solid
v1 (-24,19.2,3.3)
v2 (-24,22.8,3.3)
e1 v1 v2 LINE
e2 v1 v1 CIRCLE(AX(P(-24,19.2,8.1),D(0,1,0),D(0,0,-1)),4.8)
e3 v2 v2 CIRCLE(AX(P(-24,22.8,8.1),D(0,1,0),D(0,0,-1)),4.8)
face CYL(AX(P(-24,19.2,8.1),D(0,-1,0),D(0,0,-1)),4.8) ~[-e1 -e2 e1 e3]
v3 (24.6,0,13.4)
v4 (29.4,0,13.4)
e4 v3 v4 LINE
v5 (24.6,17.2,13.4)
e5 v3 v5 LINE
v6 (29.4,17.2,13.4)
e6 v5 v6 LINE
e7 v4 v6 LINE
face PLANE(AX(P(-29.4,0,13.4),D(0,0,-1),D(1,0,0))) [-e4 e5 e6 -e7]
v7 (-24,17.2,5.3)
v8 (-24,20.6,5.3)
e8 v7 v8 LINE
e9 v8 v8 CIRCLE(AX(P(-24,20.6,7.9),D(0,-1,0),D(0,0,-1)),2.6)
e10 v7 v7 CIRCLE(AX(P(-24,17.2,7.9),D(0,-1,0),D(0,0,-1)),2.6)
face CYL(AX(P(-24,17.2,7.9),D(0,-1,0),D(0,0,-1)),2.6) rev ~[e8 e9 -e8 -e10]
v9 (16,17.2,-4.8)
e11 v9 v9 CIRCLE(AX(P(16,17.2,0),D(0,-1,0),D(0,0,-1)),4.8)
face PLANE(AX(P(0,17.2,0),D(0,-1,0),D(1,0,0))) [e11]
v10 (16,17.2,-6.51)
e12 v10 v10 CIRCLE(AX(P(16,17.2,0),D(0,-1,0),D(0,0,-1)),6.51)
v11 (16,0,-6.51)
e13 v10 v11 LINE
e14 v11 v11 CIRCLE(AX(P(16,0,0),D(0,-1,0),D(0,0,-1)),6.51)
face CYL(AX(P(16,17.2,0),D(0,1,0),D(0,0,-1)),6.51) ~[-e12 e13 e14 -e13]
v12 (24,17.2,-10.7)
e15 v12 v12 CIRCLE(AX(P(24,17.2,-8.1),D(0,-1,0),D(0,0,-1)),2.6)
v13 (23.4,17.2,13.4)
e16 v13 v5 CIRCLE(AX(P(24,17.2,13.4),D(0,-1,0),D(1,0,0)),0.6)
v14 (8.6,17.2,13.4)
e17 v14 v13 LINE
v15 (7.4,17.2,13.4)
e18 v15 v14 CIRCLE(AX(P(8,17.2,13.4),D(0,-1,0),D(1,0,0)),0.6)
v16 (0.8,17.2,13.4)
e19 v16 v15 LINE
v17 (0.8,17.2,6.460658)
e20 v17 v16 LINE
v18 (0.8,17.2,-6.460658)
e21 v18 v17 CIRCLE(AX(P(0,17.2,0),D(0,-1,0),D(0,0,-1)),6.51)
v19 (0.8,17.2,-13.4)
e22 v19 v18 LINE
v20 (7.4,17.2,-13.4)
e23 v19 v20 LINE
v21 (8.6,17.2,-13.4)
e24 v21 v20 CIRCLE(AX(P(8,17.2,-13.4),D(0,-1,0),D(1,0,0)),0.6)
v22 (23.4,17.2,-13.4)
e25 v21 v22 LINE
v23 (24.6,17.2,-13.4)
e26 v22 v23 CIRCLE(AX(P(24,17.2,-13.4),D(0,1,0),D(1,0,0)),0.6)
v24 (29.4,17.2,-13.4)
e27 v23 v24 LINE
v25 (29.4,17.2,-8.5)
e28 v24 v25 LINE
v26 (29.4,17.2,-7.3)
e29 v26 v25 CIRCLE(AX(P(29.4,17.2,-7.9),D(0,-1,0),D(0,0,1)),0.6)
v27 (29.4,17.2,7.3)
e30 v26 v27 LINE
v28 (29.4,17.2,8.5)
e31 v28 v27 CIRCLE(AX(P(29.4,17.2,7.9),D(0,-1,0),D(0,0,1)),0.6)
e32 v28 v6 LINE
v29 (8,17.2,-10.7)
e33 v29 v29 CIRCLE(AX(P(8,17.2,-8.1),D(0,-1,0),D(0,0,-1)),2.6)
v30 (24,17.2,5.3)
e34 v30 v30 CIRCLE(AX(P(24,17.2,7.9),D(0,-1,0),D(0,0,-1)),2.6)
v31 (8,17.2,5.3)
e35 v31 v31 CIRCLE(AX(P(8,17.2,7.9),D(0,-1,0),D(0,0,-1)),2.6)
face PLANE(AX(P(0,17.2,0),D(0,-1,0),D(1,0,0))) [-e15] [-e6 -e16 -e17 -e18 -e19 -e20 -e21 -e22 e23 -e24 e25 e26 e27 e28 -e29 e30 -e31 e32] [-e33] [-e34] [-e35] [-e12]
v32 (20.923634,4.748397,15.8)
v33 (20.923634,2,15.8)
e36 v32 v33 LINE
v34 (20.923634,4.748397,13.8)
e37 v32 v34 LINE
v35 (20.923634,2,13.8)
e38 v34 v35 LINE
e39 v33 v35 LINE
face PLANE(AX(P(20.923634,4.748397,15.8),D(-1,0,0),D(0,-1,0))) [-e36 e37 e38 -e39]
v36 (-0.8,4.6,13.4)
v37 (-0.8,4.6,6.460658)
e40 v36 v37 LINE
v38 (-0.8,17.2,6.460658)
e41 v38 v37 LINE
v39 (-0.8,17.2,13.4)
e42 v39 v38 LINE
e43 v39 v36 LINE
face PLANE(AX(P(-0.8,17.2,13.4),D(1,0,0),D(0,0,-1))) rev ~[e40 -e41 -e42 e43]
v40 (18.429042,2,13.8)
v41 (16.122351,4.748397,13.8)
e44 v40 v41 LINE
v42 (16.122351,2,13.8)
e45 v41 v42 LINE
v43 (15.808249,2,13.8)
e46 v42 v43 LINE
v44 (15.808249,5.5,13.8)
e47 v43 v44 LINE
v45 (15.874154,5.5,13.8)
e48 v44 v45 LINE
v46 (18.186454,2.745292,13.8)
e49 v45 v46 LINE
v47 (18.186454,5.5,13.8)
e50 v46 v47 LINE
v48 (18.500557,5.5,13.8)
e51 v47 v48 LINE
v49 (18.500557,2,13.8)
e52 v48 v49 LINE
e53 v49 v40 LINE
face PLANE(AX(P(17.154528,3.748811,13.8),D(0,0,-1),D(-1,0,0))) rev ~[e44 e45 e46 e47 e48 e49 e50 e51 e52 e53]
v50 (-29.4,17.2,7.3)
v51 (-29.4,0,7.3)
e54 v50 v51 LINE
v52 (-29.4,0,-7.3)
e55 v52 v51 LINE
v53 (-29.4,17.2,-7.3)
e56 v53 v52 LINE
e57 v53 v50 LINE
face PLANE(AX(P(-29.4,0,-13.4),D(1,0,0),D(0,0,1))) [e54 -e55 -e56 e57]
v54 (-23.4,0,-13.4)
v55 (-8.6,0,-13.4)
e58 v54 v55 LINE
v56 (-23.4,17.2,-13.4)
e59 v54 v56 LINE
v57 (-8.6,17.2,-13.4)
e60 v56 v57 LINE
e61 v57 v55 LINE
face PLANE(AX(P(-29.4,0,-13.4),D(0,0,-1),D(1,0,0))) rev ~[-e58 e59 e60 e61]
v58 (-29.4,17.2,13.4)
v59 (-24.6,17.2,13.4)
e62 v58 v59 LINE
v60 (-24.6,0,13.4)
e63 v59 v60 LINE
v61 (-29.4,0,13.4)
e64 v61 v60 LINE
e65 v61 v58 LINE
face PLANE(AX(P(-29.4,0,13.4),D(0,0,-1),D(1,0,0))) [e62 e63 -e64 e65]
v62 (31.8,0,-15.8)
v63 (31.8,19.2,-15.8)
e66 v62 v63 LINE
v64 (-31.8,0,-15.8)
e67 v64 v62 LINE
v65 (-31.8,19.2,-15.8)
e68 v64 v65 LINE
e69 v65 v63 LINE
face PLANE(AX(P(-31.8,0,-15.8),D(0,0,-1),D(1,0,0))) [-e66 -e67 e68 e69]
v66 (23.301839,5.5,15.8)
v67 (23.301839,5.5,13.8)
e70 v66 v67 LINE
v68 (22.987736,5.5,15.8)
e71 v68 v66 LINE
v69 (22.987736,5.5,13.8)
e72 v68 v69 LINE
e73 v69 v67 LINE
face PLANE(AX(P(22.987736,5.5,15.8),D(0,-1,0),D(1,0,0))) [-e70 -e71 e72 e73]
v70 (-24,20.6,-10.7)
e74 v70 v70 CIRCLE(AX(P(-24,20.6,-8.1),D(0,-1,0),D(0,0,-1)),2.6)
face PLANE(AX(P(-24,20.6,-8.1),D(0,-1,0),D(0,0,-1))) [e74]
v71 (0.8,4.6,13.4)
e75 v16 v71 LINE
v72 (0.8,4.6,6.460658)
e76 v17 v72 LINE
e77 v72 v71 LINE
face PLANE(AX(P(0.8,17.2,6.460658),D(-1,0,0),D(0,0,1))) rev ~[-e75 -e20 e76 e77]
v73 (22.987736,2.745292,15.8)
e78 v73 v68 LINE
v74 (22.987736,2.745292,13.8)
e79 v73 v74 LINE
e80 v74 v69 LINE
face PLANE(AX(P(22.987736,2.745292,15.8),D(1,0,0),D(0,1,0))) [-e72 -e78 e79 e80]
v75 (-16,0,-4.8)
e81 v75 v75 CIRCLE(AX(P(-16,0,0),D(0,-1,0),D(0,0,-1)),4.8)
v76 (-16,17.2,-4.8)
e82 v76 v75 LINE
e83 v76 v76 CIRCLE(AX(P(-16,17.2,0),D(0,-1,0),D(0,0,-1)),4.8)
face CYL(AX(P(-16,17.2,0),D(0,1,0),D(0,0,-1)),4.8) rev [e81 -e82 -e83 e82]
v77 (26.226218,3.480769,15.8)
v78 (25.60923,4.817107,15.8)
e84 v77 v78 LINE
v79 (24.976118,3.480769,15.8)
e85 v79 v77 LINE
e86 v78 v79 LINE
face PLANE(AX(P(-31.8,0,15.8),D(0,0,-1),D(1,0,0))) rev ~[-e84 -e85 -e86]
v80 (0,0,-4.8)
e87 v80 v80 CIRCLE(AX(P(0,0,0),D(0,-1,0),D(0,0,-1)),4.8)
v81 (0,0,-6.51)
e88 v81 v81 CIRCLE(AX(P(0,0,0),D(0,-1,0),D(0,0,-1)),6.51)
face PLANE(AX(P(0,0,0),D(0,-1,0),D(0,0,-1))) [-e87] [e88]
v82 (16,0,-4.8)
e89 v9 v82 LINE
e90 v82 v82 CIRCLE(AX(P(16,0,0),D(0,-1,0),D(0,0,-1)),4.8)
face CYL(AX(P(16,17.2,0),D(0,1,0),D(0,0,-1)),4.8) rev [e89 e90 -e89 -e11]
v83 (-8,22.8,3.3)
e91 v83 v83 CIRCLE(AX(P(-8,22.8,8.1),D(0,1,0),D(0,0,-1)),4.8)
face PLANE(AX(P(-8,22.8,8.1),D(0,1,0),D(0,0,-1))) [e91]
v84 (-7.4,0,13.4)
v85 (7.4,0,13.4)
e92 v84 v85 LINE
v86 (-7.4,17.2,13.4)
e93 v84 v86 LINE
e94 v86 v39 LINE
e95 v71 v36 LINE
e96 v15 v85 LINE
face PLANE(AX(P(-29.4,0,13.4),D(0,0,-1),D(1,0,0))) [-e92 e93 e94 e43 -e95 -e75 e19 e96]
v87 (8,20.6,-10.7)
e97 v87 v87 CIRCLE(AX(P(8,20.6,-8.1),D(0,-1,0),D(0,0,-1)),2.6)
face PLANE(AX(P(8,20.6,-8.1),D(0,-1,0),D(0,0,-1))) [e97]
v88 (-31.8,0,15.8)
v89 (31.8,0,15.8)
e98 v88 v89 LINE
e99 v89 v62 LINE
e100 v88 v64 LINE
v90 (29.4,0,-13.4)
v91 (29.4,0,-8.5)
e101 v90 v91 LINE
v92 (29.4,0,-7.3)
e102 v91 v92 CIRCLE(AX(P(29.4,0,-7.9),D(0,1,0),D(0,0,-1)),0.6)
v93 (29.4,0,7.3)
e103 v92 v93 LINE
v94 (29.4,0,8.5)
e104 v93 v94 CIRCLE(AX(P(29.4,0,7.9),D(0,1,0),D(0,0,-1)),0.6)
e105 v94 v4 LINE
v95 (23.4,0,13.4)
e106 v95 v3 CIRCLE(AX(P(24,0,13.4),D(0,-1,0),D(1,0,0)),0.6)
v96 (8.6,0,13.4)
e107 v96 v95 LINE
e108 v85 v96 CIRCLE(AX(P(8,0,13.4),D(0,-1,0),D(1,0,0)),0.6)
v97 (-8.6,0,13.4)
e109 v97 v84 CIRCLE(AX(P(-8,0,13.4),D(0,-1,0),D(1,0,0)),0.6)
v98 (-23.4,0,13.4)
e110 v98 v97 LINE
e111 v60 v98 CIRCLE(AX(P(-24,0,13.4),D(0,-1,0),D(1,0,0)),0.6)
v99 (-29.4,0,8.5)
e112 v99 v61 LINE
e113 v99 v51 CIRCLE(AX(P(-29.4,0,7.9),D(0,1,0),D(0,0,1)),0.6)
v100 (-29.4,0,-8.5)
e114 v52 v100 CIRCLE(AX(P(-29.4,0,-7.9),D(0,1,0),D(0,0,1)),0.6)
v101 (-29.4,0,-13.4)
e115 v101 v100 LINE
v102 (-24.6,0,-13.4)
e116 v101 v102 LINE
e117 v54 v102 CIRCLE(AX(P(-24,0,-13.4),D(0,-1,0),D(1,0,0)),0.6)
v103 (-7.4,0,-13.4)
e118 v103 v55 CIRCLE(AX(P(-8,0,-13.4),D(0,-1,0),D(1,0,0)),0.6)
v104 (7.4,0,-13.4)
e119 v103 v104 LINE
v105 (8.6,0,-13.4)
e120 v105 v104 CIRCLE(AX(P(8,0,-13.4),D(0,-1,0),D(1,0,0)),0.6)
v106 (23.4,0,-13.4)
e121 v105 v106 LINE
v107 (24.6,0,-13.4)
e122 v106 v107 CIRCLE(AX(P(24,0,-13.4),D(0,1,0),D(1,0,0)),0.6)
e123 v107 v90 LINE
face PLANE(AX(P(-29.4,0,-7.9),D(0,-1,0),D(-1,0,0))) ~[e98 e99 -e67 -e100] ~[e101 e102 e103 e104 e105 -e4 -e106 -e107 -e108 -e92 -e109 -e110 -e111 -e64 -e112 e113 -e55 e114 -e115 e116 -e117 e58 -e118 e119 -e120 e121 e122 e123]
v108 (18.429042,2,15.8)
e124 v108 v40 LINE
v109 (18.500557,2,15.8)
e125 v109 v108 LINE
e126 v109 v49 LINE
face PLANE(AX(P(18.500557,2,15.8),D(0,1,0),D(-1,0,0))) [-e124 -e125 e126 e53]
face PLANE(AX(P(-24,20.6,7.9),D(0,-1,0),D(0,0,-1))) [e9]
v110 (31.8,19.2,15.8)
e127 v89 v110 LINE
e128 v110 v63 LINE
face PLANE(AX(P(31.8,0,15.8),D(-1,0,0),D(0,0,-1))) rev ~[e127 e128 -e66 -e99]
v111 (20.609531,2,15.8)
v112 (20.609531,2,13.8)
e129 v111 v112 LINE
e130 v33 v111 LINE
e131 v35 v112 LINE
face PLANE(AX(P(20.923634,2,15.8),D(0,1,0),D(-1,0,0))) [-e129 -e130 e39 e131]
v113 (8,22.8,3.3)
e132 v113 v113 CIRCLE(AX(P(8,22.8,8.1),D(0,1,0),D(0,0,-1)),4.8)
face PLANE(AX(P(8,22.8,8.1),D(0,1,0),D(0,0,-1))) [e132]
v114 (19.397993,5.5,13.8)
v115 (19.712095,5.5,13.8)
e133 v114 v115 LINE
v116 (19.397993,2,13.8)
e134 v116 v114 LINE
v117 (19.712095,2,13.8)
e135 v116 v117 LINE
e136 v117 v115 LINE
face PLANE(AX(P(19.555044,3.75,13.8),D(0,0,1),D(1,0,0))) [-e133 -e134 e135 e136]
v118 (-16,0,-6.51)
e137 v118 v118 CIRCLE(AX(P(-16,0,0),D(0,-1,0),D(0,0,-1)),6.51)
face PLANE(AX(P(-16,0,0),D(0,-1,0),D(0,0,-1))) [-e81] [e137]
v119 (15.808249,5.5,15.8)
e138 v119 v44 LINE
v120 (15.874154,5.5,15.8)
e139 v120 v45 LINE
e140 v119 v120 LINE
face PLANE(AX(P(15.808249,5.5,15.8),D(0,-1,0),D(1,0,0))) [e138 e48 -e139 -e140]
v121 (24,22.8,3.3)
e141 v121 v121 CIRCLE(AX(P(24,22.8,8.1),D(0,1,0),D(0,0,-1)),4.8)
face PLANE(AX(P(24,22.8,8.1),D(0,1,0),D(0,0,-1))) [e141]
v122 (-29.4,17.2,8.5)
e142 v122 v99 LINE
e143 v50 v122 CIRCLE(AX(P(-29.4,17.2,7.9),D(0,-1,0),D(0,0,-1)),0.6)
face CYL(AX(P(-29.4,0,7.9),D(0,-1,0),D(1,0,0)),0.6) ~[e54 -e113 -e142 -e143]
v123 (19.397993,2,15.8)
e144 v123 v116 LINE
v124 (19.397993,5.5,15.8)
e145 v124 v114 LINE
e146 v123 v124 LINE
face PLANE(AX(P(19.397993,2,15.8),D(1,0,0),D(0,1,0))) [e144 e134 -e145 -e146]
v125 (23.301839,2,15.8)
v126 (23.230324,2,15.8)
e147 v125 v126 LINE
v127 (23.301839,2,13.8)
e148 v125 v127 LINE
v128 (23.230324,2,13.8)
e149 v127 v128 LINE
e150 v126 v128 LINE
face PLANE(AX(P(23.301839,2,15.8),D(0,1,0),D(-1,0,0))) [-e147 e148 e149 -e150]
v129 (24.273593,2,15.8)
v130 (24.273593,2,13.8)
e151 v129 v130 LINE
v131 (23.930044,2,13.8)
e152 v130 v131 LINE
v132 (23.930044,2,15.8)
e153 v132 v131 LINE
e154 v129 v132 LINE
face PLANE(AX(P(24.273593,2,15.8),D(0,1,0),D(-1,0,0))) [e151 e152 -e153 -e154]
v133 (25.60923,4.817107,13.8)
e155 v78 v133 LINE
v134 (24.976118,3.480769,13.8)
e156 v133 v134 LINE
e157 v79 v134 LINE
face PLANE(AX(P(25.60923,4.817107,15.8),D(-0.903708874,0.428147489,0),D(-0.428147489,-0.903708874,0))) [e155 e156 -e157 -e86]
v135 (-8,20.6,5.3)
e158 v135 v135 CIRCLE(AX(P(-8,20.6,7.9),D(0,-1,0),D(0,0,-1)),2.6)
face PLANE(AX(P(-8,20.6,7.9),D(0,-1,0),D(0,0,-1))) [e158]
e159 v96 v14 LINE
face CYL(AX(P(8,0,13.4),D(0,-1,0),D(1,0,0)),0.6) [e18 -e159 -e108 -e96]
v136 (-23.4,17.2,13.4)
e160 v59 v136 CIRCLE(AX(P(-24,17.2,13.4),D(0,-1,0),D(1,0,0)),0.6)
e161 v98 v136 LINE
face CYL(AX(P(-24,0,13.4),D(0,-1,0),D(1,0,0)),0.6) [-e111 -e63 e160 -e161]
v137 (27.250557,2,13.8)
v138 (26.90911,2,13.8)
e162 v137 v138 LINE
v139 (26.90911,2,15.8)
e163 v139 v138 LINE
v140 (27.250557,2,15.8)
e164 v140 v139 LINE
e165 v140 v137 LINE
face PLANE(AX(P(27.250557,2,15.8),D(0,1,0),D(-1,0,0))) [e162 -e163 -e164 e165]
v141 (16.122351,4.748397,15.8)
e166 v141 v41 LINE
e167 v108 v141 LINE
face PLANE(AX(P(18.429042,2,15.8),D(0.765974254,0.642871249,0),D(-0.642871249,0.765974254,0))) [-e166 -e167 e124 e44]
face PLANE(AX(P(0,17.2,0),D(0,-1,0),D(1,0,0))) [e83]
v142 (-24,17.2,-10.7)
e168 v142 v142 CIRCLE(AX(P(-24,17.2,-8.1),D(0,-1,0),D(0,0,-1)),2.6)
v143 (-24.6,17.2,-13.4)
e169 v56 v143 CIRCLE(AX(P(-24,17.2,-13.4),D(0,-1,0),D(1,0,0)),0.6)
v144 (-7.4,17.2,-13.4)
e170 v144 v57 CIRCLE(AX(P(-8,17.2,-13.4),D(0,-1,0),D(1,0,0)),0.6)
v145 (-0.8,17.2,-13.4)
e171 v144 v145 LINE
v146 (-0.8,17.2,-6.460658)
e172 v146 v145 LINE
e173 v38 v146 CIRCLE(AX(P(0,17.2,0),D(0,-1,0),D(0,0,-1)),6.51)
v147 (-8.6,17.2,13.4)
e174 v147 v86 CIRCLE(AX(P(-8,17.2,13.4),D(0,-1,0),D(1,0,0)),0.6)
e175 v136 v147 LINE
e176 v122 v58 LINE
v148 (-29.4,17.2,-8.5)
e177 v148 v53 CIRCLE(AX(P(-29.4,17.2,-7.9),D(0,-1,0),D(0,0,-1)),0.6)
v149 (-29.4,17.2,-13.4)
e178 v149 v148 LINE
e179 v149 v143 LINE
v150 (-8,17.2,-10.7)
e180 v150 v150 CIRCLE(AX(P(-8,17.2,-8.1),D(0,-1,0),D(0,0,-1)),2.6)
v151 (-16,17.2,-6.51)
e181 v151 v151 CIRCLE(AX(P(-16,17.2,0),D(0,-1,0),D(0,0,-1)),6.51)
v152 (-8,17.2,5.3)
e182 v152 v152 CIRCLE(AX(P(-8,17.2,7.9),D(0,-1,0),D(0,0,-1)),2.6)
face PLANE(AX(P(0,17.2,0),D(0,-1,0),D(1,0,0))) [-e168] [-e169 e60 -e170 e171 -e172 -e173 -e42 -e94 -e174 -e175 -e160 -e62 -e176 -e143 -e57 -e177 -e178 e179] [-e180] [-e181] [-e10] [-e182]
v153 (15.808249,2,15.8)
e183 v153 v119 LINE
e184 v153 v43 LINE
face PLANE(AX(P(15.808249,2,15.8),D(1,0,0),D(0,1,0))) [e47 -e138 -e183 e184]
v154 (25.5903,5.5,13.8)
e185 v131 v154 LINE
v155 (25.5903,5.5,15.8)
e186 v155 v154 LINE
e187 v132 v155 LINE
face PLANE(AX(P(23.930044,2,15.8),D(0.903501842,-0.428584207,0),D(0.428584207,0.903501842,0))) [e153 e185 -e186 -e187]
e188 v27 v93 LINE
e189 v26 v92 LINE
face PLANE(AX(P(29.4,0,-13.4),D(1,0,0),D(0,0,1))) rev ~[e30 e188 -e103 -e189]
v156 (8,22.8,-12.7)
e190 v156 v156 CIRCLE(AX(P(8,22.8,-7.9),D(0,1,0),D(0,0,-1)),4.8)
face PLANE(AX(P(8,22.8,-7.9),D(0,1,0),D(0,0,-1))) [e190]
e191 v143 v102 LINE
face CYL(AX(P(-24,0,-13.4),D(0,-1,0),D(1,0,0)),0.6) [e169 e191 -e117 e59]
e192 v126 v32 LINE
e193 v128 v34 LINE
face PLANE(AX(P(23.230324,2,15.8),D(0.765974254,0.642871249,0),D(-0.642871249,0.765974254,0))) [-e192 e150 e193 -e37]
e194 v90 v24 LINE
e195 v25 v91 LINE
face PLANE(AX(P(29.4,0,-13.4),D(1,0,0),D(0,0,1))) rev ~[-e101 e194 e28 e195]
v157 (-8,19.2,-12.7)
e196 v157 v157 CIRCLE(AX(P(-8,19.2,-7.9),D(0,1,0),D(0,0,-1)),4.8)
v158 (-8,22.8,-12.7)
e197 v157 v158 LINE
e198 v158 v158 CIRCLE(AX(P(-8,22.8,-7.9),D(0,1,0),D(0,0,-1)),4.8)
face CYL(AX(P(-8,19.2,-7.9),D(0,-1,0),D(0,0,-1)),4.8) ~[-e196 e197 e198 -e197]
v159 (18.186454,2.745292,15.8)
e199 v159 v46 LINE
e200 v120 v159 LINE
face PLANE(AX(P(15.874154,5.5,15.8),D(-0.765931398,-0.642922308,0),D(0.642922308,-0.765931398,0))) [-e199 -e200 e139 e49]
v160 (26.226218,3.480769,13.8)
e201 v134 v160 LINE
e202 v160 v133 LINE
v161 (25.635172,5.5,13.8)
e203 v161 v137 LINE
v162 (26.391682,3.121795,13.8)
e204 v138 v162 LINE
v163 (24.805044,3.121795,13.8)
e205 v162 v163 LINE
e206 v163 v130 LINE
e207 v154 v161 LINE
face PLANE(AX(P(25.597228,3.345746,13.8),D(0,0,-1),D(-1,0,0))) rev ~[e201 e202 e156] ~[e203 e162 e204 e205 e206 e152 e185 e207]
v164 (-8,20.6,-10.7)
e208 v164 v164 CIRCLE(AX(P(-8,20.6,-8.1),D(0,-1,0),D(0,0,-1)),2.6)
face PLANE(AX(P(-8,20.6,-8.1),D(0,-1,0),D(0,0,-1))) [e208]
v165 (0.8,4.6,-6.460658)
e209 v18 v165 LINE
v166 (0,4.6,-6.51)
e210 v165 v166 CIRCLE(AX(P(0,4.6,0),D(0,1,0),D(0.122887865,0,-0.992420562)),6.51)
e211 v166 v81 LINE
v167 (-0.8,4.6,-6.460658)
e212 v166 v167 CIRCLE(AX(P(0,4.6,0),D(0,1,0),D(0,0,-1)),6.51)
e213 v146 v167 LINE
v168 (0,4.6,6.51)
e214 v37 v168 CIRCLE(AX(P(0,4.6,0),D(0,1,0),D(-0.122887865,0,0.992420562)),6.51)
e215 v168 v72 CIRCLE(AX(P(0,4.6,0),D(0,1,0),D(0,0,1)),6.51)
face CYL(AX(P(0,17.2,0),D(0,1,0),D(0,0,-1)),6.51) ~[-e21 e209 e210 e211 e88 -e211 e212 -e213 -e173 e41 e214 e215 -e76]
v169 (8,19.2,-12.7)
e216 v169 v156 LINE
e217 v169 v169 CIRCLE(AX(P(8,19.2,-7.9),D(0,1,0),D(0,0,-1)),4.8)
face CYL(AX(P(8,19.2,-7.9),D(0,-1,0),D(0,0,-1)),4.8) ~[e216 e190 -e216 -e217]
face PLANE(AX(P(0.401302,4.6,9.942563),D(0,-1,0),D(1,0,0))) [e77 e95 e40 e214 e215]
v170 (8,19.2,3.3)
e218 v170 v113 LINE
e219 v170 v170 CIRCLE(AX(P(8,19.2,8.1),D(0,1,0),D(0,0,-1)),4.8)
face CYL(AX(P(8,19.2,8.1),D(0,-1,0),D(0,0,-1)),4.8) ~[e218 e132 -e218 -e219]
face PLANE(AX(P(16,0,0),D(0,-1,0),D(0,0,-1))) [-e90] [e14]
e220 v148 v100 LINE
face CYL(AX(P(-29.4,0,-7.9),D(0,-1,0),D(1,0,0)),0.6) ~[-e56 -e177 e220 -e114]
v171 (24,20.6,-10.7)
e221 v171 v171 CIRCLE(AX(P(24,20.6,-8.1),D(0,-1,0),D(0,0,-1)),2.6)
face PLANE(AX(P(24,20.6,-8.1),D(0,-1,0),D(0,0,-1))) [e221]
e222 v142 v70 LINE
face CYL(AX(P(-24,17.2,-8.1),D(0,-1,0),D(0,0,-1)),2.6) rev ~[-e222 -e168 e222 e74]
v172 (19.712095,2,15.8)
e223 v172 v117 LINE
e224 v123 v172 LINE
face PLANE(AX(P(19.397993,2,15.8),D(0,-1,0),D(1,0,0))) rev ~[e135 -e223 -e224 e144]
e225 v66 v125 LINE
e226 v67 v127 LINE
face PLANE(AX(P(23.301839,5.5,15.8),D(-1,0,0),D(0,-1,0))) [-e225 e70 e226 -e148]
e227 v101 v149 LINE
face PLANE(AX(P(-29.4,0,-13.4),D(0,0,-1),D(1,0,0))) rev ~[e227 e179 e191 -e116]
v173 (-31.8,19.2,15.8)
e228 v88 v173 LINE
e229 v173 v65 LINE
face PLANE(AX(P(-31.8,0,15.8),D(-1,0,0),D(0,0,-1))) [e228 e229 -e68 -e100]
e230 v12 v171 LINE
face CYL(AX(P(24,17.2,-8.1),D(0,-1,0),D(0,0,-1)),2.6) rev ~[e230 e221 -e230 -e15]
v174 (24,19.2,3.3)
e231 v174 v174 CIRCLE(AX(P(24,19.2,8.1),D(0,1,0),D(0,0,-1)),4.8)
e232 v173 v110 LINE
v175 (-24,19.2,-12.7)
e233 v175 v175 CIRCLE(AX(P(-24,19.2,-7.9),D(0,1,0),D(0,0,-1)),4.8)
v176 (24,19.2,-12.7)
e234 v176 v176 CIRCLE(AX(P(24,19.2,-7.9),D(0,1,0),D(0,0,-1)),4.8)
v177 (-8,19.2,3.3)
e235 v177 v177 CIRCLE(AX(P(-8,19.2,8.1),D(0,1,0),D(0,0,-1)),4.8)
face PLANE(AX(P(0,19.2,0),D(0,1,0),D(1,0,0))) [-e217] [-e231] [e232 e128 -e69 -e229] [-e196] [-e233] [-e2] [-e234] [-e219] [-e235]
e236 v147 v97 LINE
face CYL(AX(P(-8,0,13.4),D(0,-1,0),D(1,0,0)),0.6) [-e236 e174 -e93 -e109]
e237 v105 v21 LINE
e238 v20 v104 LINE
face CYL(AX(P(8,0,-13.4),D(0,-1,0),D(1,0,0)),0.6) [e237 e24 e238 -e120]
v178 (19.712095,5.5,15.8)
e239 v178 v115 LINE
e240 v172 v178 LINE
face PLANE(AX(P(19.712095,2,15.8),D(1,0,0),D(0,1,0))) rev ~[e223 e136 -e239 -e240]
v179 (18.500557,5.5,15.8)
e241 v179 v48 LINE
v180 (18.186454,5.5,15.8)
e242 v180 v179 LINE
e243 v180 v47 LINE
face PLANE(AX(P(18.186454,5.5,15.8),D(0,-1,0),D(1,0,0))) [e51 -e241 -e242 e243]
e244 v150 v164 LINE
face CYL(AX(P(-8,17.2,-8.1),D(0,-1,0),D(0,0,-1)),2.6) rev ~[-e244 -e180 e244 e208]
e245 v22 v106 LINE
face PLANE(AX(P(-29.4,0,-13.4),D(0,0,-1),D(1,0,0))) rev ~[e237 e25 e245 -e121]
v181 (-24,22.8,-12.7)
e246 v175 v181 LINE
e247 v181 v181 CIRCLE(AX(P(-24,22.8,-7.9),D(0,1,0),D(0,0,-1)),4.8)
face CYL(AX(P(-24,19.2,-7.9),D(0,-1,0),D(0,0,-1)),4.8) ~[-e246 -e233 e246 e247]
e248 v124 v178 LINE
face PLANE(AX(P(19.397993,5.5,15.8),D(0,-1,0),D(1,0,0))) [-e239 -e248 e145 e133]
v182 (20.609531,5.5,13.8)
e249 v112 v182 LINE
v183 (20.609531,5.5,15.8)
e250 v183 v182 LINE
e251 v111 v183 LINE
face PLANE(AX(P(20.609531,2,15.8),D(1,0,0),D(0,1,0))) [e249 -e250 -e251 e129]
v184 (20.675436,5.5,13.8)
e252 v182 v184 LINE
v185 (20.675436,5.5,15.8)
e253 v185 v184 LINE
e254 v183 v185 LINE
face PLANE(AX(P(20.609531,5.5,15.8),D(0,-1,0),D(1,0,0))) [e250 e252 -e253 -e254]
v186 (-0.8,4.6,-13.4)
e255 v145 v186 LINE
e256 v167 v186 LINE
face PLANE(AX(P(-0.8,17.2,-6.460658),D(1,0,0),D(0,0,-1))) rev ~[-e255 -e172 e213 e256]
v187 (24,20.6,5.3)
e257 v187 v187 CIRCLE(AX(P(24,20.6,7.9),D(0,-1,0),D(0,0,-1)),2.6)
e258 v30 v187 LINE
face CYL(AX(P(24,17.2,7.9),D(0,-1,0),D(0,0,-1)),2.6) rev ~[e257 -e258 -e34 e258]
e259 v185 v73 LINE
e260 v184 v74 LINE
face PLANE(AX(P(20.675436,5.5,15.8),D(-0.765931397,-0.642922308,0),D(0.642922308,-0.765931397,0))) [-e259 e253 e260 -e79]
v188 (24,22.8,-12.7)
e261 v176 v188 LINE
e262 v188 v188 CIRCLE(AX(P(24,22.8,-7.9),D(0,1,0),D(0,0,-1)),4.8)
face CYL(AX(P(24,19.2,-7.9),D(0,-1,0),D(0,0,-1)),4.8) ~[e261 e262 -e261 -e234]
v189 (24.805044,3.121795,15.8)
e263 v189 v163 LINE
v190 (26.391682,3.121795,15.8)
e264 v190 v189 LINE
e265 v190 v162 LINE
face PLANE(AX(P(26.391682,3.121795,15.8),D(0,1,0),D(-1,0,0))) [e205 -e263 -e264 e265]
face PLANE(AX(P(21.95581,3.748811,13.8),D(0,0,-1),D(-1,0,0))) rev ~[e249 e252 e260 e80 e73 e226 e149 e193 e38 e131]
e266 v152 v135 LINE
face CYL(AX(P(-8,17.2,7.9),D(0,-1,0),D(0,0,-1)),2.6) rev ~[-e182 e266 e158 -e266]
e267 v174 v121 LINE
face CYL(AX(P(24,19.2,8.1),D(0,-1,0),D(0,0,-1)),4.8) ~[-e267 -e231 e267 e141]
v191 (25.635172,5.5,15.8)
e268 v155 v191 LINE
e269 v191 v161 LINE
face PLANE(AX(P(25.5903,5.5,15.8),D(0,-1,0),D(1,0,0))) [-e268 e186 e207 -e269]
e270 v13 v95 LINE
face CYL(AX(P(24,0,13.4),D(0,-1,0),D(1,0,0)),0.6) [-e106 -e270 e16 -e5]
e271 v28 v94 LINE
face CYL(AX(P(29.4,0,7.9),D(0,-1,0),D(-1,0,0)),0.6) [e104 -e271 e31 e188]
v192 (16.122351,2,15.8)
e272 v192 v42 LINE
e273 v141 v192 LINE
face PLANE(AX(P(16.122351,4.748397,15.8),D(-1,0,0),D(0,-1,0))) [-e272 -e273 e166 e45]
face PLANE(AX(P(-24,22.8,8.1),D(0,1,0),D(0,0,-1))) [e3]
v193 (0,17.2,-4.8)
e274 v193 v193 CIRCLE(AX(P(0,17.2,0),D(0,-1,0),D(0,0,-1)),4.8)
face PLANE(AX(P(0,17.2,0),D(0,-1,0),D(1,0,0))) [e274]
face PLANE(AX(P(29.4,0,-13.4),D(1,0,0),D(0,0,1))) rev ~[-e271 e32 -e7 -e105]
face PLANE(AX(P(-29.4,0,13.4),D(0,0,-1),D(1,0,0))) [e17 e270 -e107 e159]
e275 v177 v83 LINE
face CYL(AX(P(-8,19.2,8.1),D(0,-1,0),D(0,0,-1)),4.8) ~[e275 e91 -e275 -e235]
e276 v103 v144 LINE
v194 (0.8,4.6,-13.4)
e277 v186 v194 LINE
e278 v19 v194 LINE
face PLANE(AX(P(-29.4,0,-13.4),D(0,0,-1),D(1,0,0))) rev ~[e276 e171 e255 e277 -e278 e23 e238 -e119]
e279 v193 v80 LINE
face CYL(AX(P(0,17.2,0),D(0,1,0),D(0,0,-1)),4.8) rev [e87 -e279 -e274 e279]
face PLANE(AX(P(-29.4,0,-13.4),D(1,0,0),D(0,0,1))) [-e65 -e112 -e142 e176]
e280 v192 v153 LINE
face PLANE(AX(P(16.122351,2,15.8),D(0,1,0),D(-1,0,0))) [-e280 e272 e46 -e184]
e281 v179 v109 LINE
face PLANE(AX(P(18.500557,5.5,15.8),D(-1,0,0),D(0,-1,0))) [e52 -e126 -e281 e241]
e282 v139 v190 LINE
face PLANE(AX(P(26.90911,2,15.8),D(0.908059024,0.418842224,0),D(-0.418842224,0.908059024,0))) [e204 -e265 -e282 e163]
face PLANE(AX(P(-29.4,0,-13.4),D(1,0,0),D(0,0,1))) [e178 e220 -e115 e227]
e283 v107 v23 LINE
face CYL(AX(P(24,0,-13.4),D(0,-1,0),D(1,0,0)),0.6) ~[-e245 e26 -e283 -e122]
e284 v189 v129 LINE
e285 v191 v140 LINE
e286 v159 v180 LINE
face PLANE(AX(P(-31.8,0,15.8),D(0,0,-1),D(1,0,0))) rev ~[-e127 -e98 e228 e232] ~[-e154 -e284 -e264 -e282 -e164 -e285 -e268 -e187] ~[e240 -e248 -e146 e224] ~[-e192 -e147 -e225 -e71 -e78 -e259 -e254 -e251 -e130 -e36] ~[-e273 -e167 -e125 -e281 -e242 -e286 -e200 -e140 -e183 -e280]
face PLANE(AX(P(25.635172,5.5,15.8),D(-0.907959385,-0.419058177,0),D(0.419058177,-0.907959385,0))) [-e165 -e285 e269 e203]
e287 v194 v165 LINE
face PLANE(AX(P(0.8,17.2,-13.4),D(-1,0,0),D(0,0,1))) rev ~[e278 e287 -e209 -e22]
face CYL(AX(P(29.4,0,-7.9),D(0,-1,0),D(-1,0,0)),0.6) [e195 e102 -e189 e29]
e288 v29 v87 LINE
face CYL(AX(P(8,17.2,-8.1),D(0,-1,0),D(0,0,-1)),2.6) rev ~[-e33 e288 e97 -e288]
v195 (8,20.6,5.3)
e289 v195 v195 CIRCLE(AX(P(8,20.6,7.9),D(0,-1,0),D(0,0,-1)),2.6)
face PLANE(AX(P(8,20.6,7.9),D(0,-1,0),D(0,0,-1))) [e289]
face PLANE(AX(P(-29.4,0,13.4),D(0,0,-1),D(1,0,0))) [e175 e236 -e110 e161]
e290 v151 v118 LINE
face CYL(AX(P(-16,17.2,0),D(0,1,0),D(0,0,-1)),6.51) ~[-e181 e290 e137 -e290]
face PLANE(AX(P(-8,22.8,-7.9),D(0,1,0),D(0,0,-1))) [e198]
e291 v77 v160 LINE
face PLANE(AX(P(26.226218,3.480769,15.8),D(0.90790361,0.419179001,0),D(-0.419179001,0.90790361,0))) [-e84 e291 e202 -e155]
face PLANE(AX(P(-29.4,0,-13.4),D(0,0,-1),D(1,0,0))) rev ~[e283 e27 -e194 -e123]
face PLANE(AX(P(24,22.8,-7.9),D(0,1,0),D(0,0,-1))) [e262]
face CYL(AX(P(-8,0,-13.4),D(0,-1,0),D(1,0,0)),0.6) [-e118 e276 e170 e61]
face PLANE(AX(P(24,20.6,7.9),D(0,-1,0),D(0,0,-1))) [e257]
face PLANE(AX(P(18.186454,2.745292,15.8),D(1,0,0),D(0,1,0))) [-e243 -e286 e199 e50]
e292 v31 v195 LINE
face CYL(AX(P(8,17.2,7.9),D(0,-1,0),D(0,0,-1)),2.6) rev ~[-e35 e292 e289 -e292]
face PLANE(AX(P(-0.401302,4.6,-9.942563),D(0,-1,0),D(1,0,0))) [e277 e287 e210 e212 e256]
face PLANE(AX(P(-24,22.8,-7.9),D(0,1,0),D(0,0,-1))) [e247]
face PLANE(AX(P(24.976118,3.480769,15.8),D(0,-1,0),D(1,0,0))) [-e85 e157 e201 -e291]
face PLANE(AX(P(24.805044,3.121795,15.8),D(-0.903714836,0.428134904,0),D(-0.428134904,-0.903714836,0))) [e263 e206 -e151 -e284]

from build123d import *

# Parameters (mm, degrees)
SKETCH1_W               = 63.6
SKETCH1_H               = 31.6
BOSS_EXTRUDE1_DEPTH     = 19.2
SKETCH2_W               = 58.8
SKETCH2_H               = 26.8
CUT_EXTRUDE1_DEPTH      = 17.2
SKETCH3_R               = 4.8
BOSS_EXTRUDE2_DEPTH     = 3.6
LPATTERN1_COUNT         = 4
LPATTERN1_PITCH         = 16
LPATTERN1_COUNT_DIR2    = 2
LPATTERN1_PITCH_DIR2    = 16
SKETCH4_R               = 2.6
CUT_EXTRUDE2_DEPTH      = 3.4
LPATTERN2_COUNT         = 4
LPATTERN2_PITCH         = 16
LPATTERN2_COUNT_DIR2    = 2
LPATTERN2_PITCH_DIR2    = 16
SKETCH5_R               = 6.51
SKETCH5_R_2             = 4.8
BOSS_EXTRUDE3_DEPTH     = 17.2
LPATTERN3_COUNT         = 2
LPATTERN3_PITCH         = 16
LPATTERN4_COUNT         = 2
LPATTERN4_PITCH         = 16
BOSS_EXTRUDE4_DEPTH     = 12.6
BOSS_EXTRUDE5_REACH     = 44.199
SKETCH7_R               = 0.6
LPATTERN5_COUNT         = 4
LPATTERN5_PITCH         = 16
SKETCH8_R               = 0.6
BOSS_EXTRUDE6_DEPTH     = 17.2
MIRROR2_COPY_1_REACH    = 44.199
MIRROR2_COPY_1_SKETCH_R = 0.6
MIRROR2_COPY_2_REACH    = 44.199
MIRROR2_COPY_2_SKETCH_R = 0.6
MIRROR2_COPY_3_REACH    = 44.199
MIRROR2_COPY_3_SKETCH_R = 0.6
SKETCH9_W               = 0.314102564
SKETCH9_H               = 3.5
CUT_EXTRUDE3_DEPTH      = 2
SKETCH10_R              = 0.6
BOSS_EXTRUDE7_DEPTH     = 17.2


with BuildPart() as part:
    # Sketch1 → Boss-Extrude1 (new body)
    with BuildSketch(Plane(origin=(0, 0, 0), x_dir=(1, 0, 0), z_dir=(0, 1, 0))):
        Rectangle(SKETCH1_W, SKETCH1_H)
    extrude(amount=BOSS_EXTRUDE1_DEPTH)

    # Sketch2 → Cut-Extrude1 (cut)
    with BuildSketch(Plane.XZ):
        Rectangle(SKETCH2_W, SKETCH2_H)
    extrude(amount=-CUT_EXTRUDE1_DEPTH, mode=Mode.SUBTRACT)

    # Sketch3 → Boss-Extrude2 (add)
    with BuildSketch(Plane(origin=(0, 19.2, 0), x_dir=(1, 0, 0), z_dir=(0, 1, 0))):
        with Locations(Location((24, 7.9, 0), (0, 0, 90))):
            Circle(SKETCH3_R)
    boss_extrude2 = extrude(amount=BOSS_EXTRUDE2_DEPTH)

    # LPattern1: Boss-Extrude2 4 × 2
    with Locations(*[(-i * LPATTERN1_PITCH, 0, j * LPATTERN1_PITCH_DIR2) for i in range(LPATTERN1_COUNT) for j in range(LPATTERN1_COUNT_DIR2) if (i, j) != (0, 0)]):
        add(boss_extrude2)

    # Sketch4 → Cut-Extrude2 (cut)
    with BuildSketch(Plane(origin=(0, 17.2, 0), x_dir=(-1, 0, 0), z_dir=(0, -1, 0))):
        with Locations(Location((-24, -7.9, 0), (0, 0, 90))):
            Circle(SKETCH4_R)
    cut_extrude2 = extrude(amount=-CUT_EXTRUDE2_DEPTH, mode=Mode.SUBTRACT)

    # LPattern2: Cut-Extrude2 4 × 2
    with Locations(*[(-i * LPATTERN2_PITCH, 0, -j * LPATTERN2_PITCH_DIR2) for i in range(LPATTERN2_COUNT) for j in range(LPATTERN2_COUNT_DIR2) if (i, j) != (0, 0)]):
        add(cut_extrude2, mode=Mode.SUBTRACT)

    # Sketch5 → Boss-Extrude3 (add)
    with BuildSketch(Plane.XZ.offset(-17.2)):
        with Locations(Location((0, 0, 0), (0, 0, 270))):
            Circle(SKETCH5_R)
        with Locations(Location((0, 0, 0), (0, 0, 270))):
            Circle(SKETCH5_R_2, mode=Mode.SUBTRACT)
    boss_extrude3 = extrude(amount=BOSS_EXTRUDE3_DEPTH)

    # LPattern3: Boss-Extrude3 ×2
    with Locations(*[(i * LPATTERN3_PITCH, 0, 0) for i in range(1, LPATTERN3_COUNT)]):
        add(boss_extrude3)

    # LPattern4: Boss-Extrude3 ×2
    with Locations(*[(-i * LPATTERN4_PITCH, 0, 0) for i in range(1, LPATTERN4_COUNT)]):
        add(boss_extrude3)

    # Sketch6 → Boss-Extrude4 (add)
    with BuildSketch(Plane.XZ.offset(-17.2)):
        with BuildLine():
            Line((0.8, 13.4), (0, 13.4))
            Line((0, 13.4), (0, 6.51))
            ThreePointArc((0, 6.51), (0.400760105, 6.497652756), (0.8, 6.460657861))
            Line((0.8, 6.460657861), (0.8, 13.4))
        make_face()
        with BuildLine():
            Line((0, 6.51), (0, 13.4))
            Line((0, 13.4), (-0.8, 13.4))
            Line((-0.8, 13.4), (-0.8, 6.460657861))
            ThreePointArc((-0.8, 6.460657861), (-0.400760105, 6.497652756), (0, 6.51))
        make_face()
        with BuildLine():
            Line((0, -13.4), (0, -6.51))
            ThreePointArc((0, -6.51), (-0.400760105, -6.497652756), (-0.8, -6.460657861))
            Line((-0.8, -6.460657861), (-0.8, -13.4))
            Line((-0.8, -13.4), (0, -13.4))
        make_face()
        with BuildLine():
            ThreePointArc((0.8, -6.460657861), (0.400760105, -6.497652756), (0, -6.51))
            Line((0, -6.51), (0, -13.4))
            Line((0, -13.4), (0.8, -13.4))
            Line((0.8, -13.4), (0.8, -6.460657861))
        make_face()
    extrude(amount=BOSS_EXTRUDE4_DEPTH)

    # Sketch7 → Boss-Extrude5 (add, up to next)
    with BuildSketch(Plane.XZ, mode=Mode.PRIVATE) as boss_extrude5_sk1:
        with Locations((24, 13.4)):
            Circle(SKETCH7_R)
    boss_extrude5_tool1 = extrude(boss_extrude5_sk1.sketch, amount=-BOSS_EXTRUDE5_REACH, mode=Mode.PRIVATE) - part.part
    boss_extrude5 = boss_extrude5_tool1.solids().sort_by_distance((24, 0, 13.4))[0]
    add(boss_extrude5)

    # LPattern5: Boss-Extrude5 ×4
    with Locations(*[(-i * LPATTERN5_PITCH, 0, 0) for i in range(1, LPATTERN5_COUNT)]):
        add(boss_extrude5)

    # Sketch8 → Boss-Extrude6 (add)
    with BuildSketch(Plane(origin=(0, 0, 0), x_dir=(-1, 0, 0), z_dir=(0, -1, 0))):
        with Locations((-29.4, -7.9)):
            Circle(SKETCH8_R)
    boss_extrude6 = extrude(amount=-BOSS_EXTRUDE6_DEPTH)

    # Mirror2: Boss-Extrude5 across plane
    add(boss_extrude5.mirror(Plane.XY))

    # Mirror2 copy 1 sketch → Mirror2 copy 1 (add, up to next)
    with BuildSketch(Plane(origin=(-16, 0, 0), x_dir=(1, 0, 0), z_dir=(0, -1, 0)), mode=Mode.PRIVATE) as mirror2_copy_1_sk1:
        with Locations((24, -13.4)):
            Circle(MIRROR2_COPY_1_SKETCH_R)
    mirror2_copy_1_tool1 = extrude(mirror2_copy_1_sk1.sketch, amount=-MIRROR2_COPY_1_REACH, mode=Mode.PRIVATE) - part.part
    add(mirror2_copy_1_tool1.solids().sort_by_distance((8, 0, -13.4))[0])

    # Mirror2 copy 2 sketch → Mirror2 copy 2 (add, up to next)
    with BuildSketch(Plane(origin=(-32, 0, 0), x_dir=(1, 0, 0), z_dir=(0, -1, 0)), mode=Mode.PRIVATE) as mirror2_copy_2_sk1:
        with Locations((24, -13.4)):
            Circle(MIRROR2_COPY_2_SKETCH_R)
    mirror2_copy_2_tool1 = extrude(mirror2_copy_2_sk1.sketch, amount=-MIRROR2_COPY_2_REACH, mode=Mode.PRIVATE) - part.part
    add(mirror2_copy_2_tool1.solids().sort_by_distance((-8, 0, -13.4))[0])

    # Mirror2 copy 3 sketch → Mirror2 copy 3 (add, up to next)
    with BuildSketch(Plane(origin=(-48, 0, 0), x_dir=(1, 0, 0), z_dir=(0, -1, 0)), mode=Mode.PRIVATE) as mirror2_copy_3_sk1:
        with Locations((24, -13.4)):
            Circle(MIRROR2_COPY_3_SKETCH_R)
    mirror2_copy_3_tool1 = extrude(mirror2_copy_3_sk1.sketch, amount=-MIRROR2_COPY_3_REACH, mode=Mode.PRIVATE) - part.part
    add(mirror2_copy_3_tool1.solids().sort_by_distance((-24, 0, -13.4))[0])

    # Sketch9 → Cut-Extrude3 (cut)
    # profile 1 of 4: a face of its own
    with BuildSketch(Plane.XY.offset(15.8)):
        Polygon((15.808248921, 2), (15.808248921, 5.5), (15.87415437, 5.5), (18.186454049, 2.745292468), (18.186454049, 5.5), (18.500556613, 5.5), (18.500556613, 2), (18.42904219, 2), (16.122351485, 4.748397436), (16.122351485, 2), align=None)
    # profile 2 of 4: a face of its own
    with BuildSketch(Plane.XY.offset(15.8)):
        with Locations((19.555043793, 3.75)):
            Rectangle(SKETCH9_W, SKETCH9_H)
    # profile 3 of 4: a face of its own
    with BuildSketch(Plane.XY.offset(15.8)):
        Polygon((20.609530972, 2), (20.609530972, 5.5), (20.675436421, 5.5), (22.987736101, 2.745292468), (22.987736101, 5.5), (23.301838665, 5.5), (23.301838665, 2), (23.230324242, 2), (20.923633537, 4.748397436), (20.923633537, 2), align=None)
    # profile 4 of 4: a face of its own
    with BuildSketch(Plane.XY.offset(15.8)):
        Polygon((25.635171998, 5.5), (27.250556613, 2), (26.909110299, 2), (26.391682415, 3.121794872), (24.805043793, 3.121794872), (24.273593472, 2), (23.930043793, 2), (25.590300203, 5.5), align=None)
        Polygon((25.609230492, 4.817107372), (24.976117511, 3.480769231), (26.226217671, 3.480769231), align=None, mode=Mode.SUBTRACT)
    extrude(amount=-CUT_EXTRUDE3_DEPTH, mode=Mode.SUBTRACT)

    # Sketch10 → Boss-Extrude7 (add)
    with BuildSketch(Plane(origin=(0, 0, 0), x_dir=(-1, 0, 0), z_dir=(0, -1, 0))):
        with Locations((-29.4, 7.9)):
            Circle(SKETCH10_R)
    boss_extrude7 = extrude(amount=-BOSS_EXTRUDE7_DEPTH)

    # Mirror3: Boss-Extrude6, Boss-Extrude7 across plane
    add(boss_extrude6.mirror(Plane(origin=(0, 0, 0), x_dir=(0, 0, 1), z_dir=(1, 0, 0))))
    add(boss_extrude7.mirror(Plane(origin=(0, 0, 0), x_dir=(0, 0, 1), z_dir=(1, 0, 0))))


solid = part.part
